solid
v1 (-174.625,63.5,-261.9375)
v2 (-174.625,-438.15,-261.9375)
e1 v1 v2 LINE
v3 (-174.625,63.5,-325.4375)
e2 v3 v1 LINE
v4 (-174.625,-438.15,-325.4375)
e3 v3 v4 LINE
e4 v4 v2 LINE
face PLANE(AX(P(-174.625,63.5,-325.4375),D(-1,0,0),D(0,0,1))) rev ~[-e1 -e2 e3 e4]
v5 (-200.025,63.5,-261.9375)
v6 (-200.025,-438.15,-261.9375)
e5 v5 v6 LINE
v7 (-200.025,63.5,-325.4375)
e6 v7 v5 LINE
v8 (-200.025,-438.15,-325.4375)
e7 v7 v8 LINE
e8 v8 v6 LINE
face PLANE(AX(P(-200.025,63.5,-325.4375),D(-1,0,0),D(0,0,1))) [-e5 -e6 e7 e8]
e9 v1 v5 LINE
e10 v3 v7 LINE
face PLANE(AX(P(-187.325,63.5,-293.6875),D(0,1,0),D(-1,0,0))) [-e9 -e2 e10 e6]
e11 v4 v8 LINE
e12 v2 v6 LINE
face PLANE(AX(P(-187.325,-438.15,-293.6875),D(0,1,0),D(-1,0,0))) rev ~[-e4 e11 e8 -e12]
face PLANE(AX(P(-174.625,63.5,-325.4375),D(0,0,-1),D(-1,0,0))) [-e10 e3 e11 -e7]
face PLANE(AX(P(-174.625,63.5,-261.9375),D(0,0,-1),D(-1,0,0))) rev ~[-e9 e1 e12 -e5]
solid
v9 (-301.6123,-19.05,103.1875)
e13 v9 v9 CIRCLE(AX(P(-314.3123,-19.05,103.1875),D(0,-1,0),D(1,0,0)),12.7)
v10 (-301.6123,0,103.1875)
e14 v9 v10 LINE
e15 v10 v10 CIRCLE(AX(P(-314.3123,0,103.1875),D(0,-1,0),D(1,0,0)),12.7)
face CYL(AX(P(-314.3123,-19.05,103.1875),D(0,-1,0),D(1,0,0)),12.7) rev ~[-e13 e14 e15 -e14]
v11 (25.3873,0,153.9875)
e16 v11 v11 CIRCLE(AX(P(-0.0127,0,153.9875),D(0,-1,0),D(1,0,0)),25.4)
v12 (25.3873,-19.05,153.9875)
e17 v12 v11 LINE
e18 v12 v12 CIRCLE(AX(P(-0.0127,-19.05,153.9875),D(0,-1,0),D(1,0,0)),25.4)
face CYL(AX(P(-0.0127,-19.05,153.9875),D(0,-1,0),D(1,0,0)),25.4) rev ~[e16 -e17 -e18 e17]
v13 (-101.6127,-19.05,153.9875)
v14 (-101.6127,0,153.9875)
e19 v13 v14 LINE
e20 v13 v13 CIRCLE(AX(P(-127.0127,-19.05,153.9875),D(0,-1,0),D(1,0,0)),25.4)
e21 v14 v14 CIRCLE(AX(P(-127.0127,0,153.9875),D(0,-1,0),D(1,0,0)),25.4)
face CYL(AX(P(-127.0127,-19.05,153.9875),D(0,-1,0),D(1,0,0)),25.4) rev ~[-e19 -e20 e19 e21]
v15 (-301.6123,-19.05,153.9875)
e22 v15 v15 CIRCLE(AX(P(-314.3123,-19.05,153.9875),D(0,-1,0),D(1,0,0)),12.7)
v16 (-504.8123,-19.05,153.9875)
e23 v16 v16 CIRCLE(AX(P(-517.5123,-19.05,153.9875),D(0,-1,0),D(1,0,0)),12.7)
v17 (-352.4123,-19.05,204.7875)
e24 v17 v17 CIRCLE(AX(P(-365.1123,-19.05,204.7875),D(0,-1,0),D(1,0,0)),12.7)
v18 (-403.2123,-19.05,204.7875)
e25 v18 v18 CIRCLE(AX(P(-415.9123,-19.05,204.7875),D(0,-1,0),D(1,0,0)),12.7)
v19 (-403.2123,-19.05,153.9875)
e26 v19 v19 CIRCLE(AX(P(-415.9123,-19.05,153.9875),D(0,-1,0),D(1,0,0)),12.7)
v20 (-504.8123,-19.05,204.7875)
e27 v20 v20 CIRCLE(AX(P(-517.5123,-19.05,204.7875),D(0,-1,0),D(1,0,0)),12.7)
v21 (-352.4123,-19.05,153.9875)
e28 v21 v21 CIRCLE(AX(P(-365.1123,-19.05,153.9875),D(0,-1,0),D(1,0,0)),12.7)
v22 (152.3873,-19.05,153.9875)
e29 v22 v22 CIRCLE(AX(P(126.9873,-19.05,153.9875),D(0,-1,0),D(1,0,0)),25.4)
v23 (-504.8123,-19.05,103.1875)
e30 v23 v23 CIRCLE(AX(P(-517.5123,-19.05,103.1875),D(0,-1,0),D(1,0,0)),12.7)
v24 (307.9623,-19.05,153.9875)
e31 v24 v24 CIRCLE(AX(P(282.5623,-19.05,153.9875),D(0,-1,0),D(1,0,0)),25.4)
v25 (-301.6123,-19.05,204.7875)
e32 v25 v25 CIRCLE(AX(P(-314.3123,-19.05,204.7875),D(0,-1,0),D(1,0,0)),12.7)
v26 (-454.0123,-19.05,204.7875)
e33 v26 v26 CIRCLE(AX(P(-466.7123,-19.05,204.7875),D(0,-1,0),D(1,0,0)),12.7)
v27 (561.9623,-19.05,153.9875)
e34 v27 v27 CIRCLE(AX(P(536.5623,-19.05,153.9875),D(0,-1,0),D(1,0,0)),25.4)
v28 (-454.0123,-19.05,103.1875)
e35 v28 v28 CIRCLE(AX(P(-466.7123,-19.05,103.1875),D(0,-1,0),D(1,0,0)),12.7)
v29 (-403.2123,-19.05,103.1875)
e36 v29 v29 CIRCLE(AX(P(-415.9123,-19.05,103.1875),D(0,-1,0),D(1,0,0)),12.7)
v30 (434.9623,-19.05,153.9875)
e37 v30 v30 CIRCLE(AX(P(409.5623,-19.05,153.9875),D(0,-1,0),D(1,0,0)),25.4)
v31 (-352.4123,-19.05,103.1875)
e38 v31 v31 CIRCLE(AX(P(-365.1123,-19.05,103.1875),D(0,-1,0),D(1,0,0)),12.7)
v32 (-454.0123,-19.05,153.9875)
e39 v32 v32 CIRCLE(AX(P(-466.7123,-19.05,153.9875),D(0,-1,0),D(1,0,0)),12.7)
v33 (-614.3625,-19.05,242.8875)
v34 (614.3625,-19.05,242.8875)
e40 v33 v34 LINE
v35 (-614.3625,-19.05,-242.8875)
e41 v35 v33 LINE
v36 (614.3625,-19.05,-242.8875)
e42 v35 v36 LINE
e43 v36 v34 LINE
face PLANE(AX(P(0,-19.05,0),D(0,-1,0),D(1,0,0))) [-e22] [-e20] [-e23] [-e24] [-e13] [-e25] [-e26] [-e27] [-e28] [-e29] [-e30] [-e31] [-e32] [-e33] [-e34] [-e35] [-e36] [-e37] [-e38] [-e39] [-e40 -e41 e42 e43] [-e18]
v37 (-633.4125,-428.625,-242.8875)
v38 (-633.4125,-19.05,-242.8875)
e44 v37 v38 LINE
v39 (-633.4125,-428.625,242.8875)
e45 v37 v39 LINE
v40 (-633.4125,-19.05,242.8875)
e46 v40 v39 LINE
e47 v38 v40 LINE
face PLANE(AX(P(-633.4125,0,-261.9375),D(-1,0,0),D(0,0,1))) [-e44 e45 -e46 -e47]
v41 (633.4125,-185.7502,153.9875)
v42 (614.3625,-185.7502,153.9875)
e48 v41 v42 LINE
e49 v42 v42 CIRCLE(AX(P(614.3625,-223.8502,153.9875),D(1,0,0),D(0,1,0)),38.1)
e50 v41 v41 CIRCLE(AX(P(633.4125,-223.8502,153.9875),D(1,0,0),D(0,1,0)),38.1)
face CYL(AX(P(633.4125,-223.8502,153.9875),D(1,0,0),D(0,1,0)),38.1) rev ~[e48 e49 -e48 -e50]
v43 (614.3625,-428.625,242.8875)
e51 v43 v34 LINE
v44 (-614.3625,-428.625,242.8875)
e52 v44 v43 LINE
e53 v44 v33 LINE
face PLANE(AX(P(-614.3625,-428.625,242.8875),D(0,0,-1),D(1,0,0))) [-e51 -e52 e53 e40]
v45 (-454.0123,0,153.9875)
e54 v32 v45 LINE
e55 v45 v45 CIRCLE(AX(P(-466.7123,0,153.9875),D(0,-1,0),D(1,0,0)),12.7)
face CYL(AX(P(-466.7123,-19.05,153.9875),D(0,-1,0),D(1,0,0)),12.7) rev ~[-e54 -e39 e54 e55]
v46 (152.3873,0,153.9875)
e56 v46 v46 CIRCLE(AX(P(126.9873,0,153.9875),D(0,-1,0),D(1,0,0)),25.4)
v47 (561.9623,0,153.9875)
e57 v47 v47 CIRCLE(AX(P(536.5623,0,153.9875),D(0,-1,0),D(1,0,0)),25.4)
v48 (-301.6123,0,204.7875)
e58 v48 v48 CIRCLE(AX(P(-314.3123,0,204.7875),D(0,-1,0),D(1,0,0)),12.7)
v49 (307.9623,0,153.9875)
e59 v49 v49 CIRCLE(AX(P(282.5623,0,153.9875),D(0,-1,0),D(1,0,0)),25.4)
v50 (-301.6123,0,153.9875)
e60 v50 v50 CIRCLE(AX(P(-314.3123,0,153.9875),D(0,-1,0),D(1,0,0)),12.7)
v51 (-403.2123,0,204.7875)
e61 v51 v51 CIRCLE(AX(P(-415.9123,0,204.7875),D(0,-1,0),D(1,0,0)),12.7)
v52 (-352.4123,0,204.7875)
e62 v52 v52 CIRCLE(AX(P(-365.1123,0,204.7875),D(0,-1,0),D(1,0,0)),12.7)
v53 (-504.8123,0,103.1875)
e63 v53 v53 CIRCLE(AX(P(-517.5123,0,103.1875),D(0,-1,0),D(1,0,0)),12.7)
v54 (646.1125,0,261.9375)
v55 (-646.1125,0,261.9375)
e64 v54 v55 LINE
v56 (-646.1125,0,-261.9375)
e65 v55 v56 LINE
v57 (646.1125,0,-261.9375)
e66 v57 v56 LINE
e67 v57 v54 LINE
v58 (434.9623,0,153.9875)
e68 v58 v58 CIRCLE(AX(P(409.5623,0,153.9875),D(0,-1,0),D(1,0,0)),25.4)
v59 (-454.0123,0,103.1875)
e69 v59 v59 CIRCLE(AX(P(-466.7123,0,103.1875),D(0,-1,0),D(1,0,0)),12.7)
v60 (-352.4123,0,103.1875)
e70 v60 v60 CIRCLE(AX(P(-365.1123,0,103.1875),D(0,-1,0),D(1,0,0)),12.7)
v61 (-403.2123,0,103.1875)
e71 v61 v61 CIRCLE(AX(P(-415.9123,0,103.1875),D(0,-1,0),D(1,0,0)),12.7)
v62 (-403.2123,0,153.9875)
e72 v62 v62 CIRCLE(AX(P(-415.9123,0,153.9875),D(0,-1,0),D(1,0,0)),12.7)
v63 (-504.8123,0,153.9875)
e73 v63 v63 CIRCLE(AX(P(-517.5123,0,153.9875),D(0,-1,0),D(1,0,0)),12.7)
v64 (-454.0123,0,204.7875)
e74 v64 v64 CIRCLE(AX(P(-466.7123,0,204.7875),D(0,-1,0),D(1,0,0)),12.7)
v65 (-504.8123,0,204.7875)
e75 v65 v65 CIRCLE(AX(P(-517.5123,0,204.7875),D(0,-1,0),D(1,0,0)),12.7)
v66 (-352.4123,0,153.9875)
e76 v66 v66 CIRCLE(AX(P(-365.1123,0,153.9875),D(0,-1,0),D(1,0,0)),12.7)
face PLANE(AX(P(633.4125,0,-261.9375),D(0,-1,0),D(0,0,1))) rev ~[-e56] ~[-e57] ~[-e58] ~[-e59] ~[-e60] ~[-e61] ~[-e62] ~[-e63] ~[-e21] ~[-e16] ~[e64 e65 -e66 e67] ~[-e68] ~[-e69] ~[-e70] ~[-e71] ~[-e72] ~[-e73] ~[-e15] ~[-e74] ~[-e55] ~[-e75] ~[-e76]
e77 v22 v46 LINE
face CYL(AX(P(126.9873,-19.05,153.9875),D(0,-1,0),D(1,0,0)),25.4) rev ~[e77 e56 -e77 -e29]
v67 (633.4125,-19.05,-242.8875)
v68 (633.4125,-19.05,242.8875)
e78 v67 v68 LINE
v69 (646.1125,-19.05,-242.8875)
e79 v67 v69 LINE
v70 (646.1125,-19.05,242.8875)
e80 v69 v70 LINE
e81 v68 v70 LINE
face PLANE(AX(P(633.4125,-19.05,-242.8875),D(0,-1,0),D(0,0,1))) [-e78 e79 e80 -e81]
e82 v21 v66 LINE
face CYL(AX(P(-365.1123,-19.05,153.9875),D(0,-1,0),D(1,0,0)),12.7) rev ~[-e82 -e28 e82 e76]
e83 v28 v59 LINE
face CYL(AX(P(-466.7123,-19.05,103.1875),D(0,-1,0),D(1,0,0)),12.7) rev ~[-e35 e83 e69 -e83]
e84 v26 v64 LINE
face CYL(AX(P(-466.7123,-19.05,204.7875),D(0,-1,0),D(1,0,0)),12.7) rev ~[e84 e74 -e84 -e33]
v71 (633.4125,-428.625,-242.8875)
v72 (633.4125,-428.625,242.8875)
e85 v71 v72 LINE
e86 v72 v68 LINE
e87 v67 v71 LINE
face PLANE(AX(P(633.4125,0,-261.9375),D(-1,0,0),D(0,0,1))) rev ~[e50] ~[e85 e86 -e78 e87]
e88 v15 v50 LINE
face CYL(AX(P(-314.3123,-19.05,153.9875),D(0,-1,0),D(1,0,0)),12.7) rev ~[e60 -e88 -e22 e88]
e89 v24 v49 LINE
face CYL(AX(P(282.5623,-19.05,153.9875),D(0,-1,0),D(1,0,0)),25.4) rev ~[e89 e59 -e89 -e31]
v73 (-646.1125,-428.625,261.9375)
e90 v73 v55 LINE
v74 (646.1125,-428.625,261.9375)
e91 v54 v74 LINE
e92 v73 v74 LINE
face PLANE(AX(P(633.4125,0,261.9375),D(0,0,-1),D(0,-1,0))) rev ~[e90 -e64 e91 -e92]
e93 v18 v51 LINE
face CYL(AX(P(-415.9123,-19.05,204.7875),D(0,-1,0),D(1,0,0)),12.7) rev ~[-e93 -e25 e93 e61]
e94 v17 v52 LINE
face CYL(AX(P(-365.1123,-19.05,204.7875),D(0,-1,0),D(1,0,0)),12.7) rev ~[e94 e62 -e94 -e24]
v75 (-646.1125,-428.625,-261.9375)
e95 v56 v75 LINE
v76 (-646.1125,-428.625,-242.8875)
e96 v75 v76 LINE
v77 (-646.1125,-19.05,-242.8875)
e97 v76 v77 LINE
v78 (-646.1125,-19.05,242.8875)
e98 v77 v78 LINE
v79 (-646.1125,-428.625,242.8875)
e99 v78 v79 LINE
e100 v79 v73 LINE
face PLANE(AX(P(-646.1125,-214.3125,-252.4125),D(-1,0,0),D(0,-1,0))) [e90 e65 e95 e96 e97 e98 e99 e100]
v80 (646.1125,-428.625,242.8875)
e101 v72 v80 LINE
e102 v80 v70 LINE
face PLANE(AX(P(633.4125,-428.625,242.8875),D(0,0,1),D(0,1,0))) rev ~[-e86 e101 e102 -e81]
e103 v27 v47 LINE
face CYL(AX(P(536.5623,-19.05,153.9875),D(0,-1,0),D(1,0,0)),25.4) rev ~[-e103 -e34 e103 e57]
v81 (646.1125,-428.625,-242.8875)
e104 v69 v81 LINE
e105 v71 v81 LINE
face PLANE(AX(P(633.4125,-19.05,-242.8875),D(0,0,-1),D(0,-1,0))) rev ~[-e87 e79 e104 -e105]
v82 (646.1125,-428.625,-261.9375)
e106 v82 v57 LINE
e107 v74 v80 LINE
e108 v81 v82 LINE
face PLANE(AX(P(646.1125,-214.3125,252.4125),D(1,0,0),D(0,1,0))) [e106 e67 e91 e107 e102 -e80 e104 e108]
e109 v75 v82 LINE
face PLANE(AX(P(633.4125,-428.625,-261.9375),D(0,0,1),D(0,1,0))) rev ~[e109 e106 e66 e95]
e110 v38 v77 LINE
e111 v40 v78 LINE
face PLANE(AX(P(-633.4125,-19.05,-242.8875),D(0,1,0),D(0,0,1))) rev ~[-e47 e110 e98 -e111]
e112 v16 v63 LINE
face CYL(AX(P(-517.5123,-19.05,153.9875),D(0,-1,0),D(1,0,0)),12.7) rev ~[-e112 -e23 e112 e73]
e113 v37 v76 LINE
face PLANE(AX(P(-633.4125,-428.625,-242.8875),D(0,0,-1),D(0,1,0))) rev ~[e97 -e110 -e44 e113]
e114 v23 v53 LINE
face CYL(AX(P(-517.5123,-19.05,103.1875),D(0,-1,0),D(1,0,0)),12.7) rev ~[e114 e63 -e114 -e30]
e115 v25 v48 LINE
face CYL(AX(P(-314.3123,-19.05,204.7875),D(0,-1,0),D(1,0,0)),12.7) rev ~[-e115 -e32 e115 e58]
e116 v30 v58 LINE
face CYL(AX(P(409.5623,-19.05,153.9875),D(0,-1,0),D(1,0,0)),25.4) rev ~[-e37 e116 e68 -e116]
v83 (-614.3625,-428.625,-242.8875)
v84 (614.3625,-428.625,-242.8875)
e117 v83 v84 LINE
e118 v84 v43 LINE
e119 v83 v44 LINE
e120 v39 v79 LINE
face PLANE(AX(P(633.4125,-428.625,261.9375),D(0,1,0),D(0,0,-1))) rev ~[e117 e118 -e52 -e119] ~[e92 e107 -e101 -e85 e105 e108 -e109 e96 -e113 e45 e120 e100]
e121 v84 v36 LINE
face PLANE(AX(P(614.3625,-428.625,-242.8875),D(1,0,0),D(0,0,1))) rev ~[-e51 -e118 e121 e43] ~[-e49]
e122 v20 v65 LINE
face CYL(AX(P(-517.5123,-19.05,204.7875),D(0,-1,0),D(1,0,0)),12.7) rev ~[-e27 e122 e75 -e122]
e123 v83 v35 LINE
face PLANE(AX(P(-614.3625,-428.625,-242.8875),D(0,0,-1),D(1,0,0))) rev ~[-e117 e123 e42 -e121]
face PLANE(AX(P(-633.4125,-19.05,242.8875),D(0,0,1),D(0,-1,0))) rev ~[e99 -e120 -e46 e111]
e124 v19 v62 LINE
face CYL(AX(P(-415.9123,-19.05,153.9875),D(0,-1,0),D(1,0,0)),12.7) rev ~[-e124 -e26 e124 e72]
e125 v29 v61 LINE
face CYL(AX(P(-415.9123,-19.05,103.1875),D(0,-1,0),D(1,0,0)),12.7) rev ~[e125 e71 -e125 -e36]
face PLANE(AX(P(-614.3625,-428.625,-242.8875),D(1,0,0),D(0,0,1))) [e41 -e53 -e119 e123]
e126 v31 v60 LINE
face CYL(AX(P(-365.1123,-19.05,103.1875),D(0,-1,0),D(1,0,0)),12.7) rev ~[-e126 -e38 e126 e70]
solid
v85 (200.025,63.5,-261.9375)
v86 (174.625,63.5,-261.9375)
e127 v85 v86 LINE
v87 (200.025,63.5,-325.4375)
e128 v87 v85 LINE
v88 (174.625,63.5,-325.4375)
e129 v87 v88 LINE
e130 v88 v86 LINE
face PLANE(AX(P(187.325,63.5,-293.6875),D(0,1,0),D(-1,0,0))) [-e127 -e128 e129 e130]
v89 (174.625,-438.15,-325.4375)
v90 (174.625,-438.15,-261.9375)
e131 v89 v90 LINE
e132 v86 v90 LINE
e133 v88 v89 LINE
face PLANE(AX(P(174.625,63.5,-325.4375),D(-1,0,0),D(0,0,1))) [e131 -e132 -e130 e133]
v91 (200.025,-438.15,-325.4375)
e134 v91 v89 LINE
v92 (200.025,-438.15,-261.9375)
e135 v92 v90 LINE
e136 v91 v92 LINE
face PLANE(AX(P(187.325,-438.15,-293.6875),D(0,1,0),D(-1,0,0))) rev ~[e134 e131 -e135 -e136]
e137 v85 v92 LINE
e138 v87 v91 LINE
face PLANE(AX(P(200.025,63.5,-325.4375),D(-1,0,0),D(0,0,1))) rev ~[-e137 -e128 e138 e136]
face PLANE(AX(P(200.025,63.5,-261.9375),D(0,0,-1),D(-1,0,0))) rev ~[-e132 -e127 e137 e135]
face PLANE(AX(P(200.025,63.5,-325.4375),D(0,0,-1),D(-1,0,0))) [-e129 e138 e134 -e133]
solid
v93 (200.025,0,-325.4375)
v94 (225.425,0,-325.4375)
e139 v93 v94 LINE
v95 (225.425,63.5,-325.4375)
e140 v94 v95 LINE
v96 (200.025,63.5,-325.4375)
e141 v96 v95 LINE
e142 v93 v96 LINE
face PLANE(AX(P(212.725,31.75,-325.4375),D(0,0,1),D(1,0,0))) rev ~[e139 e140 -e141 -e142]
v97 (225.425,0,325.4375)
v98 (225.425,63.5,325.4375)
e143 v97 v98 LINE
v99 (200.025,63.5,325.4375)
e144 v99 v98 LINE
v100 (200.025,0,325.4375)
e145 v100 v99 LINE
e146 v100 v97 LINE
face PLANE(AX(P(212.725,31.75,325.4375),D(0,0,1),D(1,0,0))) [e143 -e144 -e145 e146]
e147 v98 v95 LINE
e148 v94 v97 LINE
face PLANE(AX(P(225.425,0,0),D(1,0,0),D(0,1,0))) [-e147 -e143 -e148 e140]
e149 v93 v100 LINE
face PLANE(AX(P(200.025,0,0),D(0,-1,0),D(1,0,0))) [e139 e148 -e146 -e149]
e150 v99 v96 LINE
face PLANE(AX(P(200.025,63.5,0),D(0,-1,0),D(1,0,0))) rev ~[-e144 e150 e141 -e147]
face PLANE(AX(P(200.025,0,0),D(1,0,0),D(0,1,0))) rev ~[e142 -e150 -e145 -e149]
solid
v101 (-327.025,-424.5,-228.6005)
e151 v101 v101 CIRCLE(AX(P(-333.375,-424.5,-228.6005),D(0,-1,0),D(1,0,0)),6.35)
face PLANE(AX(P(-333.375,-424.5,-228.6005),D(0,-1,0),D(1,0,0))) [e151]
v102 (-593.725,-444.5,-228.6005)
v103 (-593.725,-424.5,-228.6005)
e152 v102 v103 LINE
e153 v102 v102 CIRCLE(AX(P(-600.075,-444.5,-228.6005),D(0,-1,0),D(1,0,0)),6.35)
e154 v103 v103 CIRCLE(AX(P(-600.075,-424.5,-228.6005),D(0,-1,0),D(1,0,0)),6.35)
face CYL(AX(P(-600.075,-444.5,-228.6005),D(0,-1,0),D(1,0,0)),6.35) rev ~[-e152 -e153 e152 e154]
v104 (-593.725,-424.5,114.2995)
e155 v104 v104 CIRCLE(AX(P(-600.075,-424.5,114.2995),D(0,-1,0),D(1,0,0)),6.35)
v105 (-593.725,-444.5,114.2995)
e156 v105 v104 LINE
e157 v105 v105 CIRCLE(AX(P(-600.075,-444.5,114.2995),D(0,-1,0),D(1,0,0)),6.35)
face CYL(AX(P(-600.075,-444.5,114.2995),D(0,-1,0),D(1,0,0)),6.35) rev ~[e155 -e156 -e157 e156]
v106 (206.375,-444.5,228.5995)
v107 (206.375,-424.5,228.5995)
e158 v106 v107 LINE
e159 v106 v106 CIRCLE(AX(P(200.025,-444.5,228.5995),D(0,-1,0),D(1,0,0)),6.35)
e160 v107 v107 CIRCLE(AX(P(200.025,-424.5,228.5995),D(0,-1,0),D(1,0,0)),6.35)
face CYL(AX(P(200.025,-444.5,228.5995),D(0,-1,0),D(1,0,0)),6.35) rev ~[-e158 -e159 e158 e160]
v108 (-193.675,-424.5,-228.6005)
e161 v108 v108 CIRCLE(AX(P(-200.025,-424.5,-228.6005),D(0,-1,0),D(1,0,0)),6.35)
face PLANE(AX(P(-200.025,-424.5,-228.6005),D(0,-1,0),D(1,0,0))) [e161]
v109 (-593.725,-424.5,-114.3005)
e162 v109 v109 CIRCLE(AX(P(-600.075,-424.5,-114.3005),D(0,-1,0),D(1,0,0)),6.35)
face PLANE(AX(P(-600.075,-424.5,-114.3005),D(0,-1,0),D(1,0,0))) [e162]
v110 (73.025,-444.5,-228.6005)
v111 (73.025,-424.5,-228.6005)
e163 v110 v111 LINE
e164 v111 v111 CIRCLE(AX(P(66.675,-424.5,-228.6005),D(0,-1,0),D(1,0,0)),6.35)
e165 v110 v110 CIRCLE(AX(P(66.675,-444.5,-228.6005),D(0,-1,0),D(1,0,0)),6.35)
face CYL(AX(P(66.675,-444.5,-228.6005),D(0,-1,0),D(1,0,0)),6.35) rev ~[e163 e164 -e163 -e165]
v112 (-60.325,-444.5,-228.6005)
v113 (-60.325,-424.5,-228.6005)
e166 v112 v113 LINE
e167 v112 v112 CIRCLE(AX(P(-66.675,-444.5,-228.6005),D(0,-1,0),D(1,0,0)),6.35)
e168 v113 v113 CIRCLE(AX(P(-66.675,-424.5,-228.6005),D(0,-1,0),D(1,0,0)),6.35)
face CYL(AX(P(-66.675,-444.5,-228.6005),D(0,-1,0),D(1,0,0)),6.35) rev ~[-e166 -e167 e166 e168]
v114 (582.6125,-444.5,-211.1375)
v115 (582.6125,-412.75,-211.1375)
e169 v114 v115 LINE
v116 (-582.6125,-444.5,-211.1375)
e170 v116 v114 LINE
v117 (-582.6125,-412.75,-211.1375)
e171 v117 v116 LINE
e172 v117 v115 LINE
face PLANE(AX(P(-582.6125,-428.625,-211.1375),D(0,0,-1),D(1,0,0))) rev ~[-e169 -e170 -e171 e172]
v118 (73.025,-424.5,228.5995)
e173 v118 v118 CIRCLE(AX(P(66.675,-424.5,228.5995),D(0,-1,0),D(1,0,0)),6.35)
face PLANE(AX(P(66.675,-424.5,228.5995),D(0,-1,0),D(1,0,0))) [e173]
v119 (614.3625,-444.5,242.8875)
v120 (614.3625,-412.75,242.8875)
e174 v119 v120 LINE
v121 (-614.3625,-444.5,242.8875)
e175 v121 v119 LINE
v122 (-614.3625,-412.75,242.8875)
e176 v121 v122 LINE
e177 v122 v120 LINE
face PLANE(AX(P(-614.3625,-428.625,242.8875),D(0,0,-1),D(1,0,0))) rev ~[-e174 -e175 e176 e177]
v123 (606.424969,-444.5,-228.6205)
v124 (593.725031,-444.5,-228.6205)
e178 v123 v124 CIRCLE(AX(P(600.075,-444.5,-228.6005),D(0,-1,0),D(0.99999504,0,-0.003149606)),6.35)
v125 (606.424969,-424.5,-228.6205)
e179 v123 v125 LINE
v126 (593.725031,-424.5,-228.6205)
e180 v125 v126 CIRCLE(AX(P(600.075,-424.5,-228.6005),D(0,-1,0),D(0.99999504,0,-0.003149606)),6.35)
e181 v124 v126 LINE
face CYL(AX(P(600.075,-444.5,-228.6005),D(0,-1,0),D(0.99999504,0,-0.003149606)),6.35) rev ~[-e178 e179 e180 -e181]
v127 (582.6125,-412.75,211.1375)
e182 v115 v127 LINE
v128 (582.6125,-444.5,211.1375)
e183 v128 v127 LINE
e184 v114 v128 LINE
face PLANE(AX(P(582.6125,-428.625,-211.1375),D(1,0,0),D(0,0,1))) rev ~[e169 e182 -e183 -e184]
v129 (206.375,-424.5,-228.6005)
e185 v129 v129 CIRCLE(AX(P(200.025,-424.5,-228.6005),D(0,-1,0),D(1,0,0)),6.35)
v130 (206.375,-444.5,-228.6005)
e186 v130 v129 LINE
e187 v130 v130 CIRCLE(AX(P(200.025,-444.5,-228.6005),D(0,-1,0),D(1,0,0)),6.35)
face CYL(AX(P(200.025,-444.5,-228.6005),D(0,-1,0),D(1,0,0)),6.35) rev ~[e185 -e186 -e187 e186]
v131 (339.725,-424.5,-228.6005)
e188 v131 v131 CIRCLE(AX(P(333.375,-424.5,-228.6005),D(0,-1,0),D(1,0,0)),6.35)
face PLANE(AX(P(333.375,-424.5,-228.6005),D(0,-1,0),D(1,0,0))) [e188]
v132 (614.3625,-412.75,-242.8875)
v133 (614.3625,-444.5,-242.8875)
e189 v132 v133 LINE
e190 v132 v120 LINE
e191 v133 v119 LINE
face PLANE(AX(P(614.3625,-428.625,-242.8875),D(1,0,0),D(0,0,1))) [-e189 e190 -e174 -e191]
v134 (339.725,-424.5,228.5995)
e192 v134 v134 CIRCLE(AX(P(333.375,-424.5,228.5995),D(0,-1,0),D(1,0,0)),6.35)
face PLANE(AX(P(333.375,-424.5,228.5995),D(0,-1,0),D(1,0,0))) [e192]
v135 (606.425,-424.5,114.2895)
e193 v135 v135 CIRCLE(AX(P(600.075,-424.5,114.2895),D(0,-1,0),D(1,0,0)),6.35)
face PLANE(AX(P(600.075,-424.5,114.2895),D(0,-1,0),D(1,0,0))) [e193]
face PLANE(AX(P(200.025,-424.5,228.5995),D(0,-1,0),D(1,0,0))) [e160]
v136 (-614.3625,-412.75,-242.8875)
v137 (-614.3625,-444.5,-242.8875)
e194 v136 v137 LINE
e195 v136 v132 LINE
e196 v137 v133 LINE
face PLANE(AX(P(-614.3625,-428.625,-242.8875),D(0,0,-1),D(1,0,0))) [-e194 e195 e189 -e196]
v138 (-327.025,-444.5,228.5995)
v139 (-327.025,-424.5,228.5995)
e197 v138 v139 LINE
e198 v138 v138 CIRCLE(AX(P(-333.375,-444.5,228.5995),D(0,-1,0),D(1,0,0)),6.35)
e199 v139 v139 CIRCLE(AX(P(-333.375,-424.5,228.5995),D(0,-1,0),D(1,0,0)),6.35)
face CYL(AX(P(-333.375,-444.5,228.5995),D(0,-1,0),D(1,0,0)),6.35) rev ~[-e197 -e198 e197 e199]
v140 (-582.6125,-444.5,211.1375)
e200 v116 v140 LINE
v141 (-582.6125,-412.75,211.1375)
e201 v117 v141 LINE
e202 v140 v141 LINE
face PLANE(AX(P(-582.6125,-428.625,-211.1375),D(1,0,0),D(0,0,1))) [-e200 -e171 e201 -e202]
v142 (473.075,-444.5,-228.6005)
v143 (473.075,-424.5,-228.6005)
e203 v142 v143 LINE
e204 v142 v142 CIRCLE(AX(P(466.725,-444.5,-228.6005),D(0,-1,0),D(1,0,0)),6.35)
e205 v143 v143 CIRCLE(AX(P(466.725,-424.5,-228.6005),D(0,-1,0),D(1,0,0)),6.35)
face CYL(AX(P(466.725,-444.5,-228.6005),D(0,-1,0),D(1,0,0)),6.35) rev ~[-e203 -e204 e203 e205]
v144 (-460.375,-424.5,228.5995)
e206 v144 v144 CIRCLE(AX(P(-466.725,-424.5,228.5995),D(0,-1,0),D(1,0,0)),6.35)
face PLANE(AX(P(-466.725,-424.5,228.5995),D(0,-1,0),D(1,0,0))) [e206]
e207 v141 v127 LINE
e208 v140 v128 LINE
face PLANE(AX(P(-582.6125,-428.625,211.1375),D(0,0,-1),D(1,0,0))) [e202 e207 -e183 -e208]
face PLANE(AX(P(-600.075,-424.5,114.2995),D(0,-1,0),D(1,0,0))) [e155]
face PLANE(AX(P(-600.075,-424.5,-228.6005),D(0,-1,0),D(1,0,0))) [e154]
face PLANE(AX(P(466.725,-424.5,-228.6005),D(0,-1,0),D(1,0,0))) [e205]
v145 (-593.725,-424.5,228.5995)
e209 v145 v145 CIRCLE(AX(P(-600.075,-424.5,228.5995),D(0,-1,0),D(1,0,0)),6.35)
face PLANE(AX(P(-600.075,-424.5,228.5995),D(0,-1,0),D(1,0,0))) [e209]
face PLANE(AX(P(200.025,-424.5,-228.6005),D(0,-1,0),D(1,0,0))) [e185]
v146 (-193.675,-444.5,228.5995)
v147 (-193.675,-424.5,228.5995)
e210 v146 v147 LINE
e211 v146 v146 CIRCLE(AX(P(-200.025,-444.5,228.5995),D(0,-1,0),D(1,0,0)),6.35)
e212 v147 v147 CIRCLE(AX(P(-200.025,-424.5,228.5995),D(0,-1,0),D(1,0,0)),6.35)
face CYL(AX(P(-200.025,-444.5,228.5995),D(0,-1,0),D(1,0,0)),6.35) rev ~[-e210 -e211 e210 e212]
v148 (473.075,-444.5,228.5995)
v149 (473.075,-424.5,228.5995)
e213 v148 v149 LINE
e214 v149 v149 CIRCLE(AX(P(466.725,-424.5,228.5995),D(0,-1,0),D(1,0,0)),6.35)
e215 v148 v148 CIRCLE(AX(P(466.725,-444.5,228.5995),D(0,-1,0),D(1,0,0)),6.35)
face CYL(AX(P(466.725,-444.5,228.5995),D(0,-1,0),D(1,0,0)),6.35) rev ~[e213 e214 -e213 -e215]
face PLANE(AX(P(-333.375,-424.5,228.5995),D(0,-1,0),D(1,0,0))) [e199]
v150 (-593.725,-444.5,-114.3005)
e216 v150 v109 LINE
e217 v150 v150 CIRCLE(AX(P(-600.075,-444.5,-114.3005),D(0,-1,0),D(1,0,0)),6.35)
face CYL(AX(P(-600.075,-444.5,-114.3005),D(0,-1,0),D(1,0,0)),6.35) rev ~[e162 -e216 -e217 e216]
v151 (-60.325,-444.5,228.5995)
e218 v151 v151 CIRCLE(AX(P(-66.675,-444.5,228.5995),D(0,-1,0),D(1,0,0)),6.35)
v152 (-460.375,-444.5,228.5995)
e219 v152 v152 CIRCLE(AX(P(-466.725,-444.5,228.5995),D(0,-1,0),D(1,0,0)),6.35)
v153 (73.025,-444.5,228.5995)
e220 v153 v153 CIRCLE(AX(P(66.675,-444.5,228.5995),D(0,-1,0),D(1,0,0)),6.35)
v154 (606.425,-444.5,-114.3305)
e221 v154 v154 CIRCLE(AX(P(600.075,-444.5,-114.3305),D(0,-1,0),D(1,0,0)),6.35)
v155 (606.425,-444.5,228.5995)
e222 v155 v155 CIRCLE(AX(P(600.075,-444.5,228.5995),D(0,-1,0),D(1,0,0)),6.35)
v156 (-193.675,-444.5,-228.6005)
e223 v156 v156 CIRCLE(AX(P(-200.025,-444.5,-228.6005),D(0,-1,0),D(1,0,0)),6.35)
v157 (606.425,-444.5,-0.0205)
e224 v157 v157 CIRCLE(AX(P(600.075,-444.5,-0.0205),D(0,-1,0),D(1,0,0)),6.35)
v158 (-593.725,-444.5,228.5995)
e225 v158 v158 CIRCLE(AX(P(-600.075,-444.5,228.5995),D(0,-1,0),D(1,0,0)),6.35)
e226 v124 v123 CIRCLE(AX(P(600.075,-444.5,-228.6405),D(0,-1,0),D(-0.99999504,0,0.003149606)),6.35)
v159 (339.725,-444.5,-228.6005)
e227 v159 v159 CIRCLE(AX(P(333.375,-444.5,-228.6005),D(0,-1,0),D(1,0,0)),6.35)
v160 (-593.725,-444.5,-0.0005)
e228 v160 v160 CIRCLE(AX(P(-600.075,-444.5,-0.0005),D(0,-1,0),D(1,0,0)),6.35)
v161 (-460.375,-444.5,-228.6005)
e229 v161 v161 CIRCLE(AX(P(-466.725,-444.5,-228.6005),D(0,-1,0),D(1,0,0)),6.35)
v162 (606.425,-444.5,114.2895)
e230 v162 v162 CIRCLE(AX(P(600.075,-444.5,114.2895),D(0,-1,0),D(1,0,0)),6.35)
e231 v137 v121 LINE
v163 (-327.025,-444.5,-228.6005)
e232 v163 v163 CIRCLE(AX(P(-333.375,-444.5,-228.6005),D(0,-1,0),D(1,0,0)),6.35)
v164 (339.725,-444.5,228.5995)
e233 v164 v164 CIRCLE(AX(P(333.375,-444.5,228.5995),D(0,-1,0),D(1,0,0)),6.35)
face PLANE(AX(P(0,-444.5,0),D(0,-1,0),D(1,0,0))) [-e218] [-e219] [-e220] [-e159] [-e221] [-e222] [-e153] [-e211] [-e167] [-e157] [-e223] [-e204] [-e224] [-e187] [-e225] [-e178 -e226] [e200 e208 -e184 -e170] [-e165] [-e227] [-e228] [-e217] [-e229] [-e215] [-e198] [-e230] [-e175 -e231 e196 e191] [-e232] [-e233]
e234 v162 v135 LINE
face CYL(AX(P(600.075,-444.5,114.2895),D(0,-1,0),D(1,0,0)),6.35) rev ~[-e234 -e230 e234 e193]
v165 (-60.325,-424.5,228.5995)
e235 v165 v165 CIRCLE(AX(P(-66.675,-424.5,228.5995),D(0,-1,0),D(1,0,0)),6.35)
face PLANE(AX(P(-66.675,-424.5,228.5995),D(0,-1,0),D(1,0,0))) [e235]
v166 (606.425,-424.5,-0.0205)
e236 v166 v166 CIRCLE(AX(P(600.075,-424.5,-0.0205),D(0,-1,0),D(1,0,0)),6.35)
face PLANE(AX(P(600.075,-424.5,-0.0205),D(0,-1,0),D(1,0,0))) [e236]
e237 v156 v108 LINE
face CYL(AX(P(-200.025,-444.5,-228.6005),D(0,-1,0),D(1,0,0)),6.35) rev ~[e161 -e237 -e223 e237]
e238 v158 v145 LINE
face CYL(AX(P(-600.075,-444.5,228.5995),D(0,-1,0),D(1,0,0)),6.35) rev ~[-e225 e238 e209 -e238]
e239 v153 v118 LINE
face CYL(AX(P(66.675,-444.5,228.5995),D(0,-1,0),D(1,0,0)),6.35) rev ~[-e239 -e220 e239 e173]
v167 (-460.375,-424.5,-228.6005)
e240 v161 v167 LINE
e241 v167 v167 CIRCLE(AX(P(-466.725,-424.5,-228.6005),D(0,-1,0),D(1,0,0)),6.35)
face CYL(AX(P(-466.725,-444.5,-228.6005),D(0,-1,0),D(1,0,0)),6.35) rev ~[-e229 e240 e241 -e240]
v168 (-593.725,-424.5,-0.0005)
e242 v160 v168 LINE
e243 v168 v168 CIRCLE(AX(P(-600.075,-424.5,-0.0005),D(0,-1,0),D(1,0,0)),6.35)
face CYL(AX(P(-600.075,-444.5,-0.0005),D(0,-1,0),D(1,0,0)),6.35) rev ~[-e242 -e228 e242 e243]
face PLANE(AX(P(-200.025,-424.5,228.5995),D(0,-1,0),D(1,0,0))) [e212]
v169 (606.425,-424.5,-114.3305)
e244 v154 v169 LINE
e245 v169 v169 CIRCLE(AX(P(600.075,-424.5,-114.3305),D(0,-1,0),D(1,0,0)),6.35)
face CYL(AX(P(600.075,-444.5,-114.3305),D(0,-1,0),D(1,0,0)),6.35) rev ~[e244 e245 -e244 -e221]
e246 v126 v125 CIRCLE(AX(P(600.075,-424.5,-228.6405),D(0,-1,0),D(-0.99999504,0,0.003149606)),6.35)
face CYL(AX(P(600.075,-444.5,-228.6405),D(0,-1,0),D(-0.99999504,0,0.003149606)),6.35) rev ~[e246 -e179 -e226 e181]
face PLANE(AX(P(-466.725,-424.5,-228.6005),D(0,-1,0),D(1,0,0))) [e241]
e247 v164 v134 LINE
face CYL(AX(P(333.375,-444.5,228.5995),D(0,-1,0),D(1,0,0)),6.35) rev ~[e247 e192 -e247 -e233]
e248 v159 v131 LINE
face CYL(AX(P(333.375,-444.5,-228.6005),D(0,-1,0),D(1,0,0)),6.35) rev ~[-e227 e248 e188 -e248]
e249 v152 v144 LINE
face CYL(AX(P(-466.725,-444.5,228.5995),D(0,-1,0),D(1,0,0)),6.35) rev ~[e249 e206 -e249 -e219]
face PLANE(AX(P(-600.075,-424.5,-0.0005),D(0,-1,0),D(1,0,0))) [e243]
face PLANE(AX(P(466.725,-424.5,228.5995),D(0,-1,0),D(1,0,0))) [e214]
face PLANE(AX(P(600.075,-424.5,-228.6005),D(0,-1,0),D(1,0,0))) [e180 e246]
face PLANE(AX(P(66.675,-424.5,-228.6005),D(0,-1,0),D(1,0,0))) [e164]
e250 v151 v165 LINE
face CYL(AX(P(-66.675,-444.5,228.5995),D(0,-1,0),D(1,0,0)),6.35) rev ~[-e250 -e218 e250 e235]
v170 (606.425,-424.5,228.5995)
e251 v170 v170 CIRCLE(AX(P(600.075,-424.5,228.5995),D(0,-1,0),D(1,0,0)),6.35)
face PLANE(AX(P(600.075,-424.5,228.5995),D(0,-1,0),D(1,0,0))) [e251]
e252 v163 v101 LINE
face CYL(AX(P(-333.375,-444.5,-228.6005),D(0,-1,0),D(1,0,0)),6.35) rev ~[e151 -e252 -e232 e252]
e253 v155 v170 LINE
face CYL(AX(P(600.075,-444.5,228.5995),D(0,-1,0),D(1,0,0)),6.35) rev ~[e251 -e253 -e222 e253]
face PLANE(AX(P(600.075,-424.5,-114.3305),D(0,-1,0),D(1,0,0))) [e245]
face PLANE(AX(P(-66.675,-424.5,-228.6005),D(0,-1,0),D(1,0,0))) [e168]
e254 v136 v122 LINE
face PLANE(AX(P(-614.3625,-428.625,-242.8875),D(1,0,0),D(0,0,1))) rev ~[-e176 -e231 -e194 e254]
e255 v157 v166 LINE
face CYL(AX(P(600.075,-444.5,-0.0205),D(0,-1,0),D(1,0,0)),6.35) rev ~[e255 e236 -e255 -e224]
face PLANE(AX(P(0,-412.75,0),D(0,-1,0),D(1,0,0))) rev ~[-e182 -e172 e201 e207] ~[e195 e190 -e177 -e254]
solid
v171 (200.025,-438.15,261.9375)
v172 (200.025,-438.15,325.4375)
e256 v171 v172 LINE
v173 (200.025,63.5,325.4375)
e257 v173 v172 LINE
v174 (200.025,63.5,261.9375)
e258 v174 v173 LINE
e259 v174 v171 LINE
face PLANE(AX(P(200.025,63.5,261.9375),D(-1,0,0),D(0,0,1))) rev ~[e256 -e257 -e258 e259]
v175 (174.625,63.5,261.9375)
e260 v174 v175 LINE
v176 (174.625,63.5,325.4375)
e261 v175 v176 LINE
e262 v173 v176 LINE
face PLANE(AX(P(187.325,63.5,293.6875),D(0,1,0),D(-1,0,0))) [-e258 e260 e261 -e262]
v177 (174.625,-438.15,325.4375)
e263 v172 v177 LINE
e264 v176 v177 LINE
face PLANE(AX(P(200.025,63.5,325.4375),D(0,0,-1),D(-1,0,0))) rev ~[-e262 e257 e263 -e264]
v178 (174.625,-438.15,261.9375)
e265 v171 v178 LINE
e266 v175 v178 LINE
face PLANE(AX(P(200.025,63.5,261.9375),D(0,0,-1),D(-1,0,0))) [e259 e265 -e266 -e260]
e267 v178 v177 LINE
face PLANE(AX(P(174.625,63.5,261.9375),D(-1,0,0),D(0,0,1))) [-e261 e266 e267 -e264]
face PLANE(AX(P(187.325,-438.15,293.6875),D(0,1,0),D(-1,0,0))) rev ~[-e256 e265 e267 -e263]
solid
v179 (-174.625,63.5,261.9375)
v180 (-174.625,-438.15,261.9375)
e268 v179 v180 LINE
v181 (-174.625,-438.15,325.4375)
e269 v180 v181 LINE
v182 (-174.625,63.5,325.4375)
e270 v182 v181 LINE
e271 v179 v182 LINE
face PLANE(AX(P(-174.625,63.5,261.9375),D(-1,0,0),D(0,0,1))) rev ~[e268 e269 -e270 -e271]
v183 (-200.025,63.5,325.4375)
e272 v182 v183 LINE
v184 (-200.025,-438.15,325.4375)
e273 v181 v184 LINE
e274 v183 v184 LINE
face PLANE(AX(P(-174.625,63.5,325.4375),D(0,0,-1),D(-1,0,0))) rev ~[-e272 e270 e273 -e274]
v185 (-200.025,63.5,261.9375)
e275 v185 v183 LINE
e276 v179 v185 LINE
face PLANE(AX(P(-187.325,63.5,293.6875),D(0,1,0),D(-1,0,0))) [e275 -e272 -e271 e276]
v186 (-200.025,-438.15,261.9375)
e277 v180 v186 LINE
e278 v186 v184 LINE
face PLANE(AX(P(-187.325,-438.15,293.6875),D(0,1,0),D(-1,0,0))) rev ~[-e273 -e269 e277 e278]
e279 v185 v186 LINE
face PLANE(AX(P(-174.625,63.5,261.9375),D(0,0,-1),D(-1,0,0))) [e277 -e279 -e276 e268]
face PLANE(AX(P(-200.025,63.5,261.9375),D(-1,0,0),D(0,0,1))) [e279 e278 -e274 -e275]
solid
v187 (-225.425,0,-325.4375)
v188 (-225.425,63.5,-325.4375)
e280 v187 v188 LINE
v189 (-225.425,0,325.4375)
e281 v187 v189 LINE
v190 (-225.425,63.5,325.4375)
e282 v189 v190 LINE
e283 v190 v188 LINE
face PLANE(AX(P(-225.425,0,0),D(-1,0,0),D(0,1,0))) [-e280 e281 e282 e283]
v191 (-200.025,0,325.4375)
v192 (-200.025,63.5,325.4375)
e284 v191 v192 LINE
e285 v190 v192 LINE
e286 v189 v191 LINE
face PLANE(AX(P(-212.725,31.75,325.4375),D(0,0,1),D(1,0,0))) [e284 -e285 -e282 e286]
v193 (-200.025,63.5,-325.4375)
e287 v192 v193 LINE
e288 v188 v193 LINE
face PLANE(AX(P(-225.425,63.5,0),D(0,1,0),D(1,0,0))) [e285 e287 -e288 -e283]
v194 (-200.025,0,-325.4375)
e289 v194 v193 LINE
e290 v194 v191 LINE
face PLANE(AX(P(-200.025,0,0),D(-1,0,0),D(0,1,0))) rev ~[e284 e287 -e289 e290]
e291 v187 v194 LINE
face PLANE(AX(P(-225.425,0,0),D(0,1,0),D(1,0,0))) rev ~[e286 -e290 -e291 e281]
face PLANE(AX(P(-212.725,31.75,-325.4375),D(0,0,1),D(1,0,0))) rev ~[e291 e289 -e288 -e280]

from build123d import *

# Parameters (mm, degrees)
F0_W      = 1266.825
F0_H      = 523.875
F1_DEPTH  = 428.625
F2_W      = 1228.725
F2_H      = 485.775
F3_DEPTH  = 409.575
F4_W      = 1228.725
F4_H      = 485.775
F4_W_2    = 1165.225
F4_H_2    = 422.275
F5_DEPTH  = 15.875
F6_R      = 6.35
F7_DEPTH  = 20
F8_W      = 19.05
F8_H      = 485.775
F9_DEPTH  = 12.7
F10_W     = 19.05
F10_H     = 485.775
F11_DEPTH = 12.7
F12_W     = 25.4
F12_H     = 63.5
F13_DEPTH = 325.4375
F14_W     = 25.4
F14_H     = 63.5
F15_DEPTH = 501.65
F16_W     = 25.4
F16_H     = 63.5
F17_DEPTH = 501.65
F20_R     = 25.4
F21_DEPTH = 25
F20_R_2   = 12.7
F22_DEPTH = 25
F23_R     = 38.1
F24_DEPTH = 25


with BuildPart() as f1:
    # F0 (on Front) → F1 (new body)
    with BuildSketch(Plane.XZ):
        Rectangle(F0_W, F0_H)
    extrude(amount=F1_DEPTH)

    # F2 (on face) → F3 (cut)
    with BuildSketch(Plane.XZ.offset(428.625)):
        Rectangle(F2_W, F2_H)
    extrude(amount=-F3_DEPTH, mode=Mode.SUBTRACT)

    # F8 (on face) → F9 (join)
    with BuildSketch(Plane(origin=(-633.4125, 0, 0), x_dir=(0, -1, 0), z_dir=(-1, 0, 0))):
        Polygon((0, -242.8875), (0, -261.9375), (428.625, -261.9375), (428.625, -242.8875), (19.05, -242.8875), align=None)
        Polygon((0, 261.9375), (0, 242.8875), (19.05, 242.8875), (428.625, 242.8875), (428.625, 261.9375), align=None)
        with Locations((9.525, 0)):
            Rectangle(F8_W, F8_H)
    extrude(amount=F9_DEPTH)

    # F10 (on face) → F11 (join)
    with BuildSketch(Plane.YZ.offset(633.4125)):
        Polygon((0, 261.9375), (-428.625, 261.9375), (-428.625, 242.8875), (-19.05, 242.8875), (0, 242.8875), align=None)
        Polygon((-19.05, -242.8875), (-428.625, -242.8875), (-428.625, -261.9375), (0, -261.9375), (0, -242.8875), align=None)
        with Locations((-9.525, 0)):
            Rectangle(F10_W, F10_H)
    extrude(amount=F11_DEPTH)

    # F20 (on face) → F21 (cut)
    with BuildSketch(Plane.XZ.offset(19.05)):
        with Locations((-0.0127, 153.9875)):
            Circle(F20_R)
        with Locations((536.5623, 153.9875)):
            Circle(F20_R)
        with Locations((409.5623, 153.9875)):
            Circle(F20_R)
        with Locations((282.5623, 153.9875)):
            Circle(F20_R)
        with Locations((126.9873, 153.9875)):
            Circle(F20_R)
    extrude(amount=-F21_DEPTH, mode=Mode.SUBTRACT)

    # F20 (on face) → F22 (cut)
    with BuildSketch(Plane.XZ.offset(19.05)):
        with Locations((126.9873, 153.9875)):
            Circle(F20_R)
        with Locations((282.5623, 153.9875)):
            Circle(F20_R)
        with Locations((409.5623, 153.9875)):
            Circle(F20_R)
        with Locations((536.5623, 153.9875)):
            Circle(F20_R)
        with Locations((-0.0127, 153.9875)):
            Circle(F20_R)
        with Locations((-517.5123, 204.7875)):
            Circle(F20_R_2)
        with Locations((-517.5123, 153.9875)):
            Circle(F20_R_2)
        with Locations((-517.5123, 103.1875)):
            Circle(F20_R_2)
        with Locations((-466.7123, 204.7875)):
            Circle(F20_R_2)
        with Locations((-466.7123, 153.9875)):
            Circle(F20_R_2)
        with Locations((-466.7123, 103.1875)):
            Circle(F20_R_2)
        with Locations((-415.9123, 204.7875)):
            Circle(F20_R_2)
        with Locations((-415.9123, 153.9875)):
            Circle(F20_R_2)
        with Locations((-415.9123, 103.1875)):
            Circle(F20_R_2)
        with Locations((-365.1123, 204.7875)):
            Circle(F20_R_2)
        with Locations((-365.1123, 153.9875)):
            Circle(F20_R_2)
        with Locations((-365.1123, 103.1875)):
            Circle(F20_R_2)
        with Locations((-314.3123, 204.7875)):
            Circle(F20_R_2)
        with Locations((-314.3123, 153.9875)):
            Circle(F20_R_2)
        with Locations((-314.3123, 103.1875)):
            Circle(F20_R_2)
        with Locations((-127.0127, 153.9875)):
            Circle(F20_R)
    extrude(amount=-F22_DEPTH, mode=Mode.SUBTRACT)

    # F23 (on face) → F24 (cut)
    with BuildSketch(Plane.YZ.offset(633.4125)):
        with Locations((-223.8502, 153.9875)):
            Circle(F23_R)
    extrude(amount=-F24_DEPTH, mode=Mode.SUBTRACT)


with BuildPart() as f5:
    # F4 (on face) → F5 (new body, symmetric)
    with BuildSketch(Plane.XZ.offset(428.625)):
        Rectangle(F4_W, F4_H)
        Rectangle(F4_W_2, F4_H_2, mode=Mode.SUBTRACT)
    extrude(amount=F5_DEPTH, both=True)

    # F6 (on face) → F7 (cut)
    with BuildSketch(Plane.XZ.offset(444.5)):
        with Locations((-600.075, 228.5995)):
            Circle(F6_R)
        with Locations((-466.725, 228.5995)):
            Circle(F6_R)
        with Locations((-333.375, 228.5995)):
            Circle(F6_R)
        with Locations((-200.025, 228.5995)):
            Circle(F6_R)
        with Locations((-66.675, 228.5995)):
            Circle(F6_R)
        with Locations((66.675, 228.5995)):
            Circle(F6_R)
        with Locations((200.025, 228.5995)):
            Circle(F6_R)
        with Locations((333.375, 228.5995)):
            Circle(F6_R)
        with Locations((466.725, 228.5995)):
            Circle(F6_R)
        with Locations((600.075, 228.5995)):
            Circle(F6_R)
        with Locations((-600.075, 114.2995)):
            Circle(F6_R)
        with Locations((-600.075, -0.0005)):
            Circle(F6_R)
        with Locations((-600.075, -114.3005)):
            Circle(F6_R)
        with Locations((-600.075, -228.6005)):
            Circle(F6_R)
        with Locations((-466.725, -228.6005)):
            Circle(F6_R)
        with Locations((-333.375, -228.6005)):
            Circle(F6_R)
        with Locations((-200.025, -228.6005)):
            Circle(F6_R)
        with Locations((-66.675, -228.6005)):
            Circle(F6_R)
        with Locations((66.675, -228.6005)):
            Circle(F6_R)
        with Locations((200.025, -228.6005)):
            Circle(F6_R)
        with Locations((333.375, -228.6005)):
            Circle(F6_R)
        with Locations((466.725, -228.6005)):
            Circle(F6_R)
        with Locations((600.075, -228.6005)):
            Circle(F6_R)
        with Locations((600.075, 114.2895)):
            Circle(F6_R)
        with Locations((600.075, -0.0205)):
            Circle(F6_R)
        with Locations((600.075, -114.3305)):
            Circle(F6_R)
        with Locations((600.075, -228.6405)):
            Circle(F6_R)
    extrude(amount=-F7_DEPTH, mode=Mode.SUBTRACT)


with BuildPart() as f13:
    # F12 (on Top) → F13 (new body, symmetric)
    with BuildSketch(Plane.XY):
        with Locations((-212.725, 31.75)):
            Rectangle(F12_W, F12_H)
        with Locations((212.725, 31.75)):
            Rectangle(F12_W, F12_H)
    extrude(amount=F13_DEPTH, both=True)


with BuildPart() as f15:
    # F14 (on face) → F15 (new body)
    with BuildSketch(Plane(origin=(0, 63.5, 0), x_dir=(-1, 0, 0), z_dir=(0, 1, 0))):
        with Locations((187.325, 293.6875)):
            Rectangle(F14_W, F14_H)
        with Locations((-187.325, 293.6875)):
            Rectangle(F14_W, F14_H)
    extrude(amount=-F15_DEPTH)


with BuildPart() as f17:
    # F16 (on face) → F17 (new body)
    with BuildSketch(Plane(origin=(0, 63.5, 0), x_dir=(-1, 0, 0), z_dir=(0, 1, 0))):
        with Locations((-187.325, -293.6875)):
            Rectangle(F16_W, F16_H)
        with Locations((187.325, -293.6875)):
            Rectangle(F16_W, F16_H)
    extrude(amount=-F17_DEPTH)


solid = Compound([f1.part, f5.part, f13.part, f15.part, f17.part])
